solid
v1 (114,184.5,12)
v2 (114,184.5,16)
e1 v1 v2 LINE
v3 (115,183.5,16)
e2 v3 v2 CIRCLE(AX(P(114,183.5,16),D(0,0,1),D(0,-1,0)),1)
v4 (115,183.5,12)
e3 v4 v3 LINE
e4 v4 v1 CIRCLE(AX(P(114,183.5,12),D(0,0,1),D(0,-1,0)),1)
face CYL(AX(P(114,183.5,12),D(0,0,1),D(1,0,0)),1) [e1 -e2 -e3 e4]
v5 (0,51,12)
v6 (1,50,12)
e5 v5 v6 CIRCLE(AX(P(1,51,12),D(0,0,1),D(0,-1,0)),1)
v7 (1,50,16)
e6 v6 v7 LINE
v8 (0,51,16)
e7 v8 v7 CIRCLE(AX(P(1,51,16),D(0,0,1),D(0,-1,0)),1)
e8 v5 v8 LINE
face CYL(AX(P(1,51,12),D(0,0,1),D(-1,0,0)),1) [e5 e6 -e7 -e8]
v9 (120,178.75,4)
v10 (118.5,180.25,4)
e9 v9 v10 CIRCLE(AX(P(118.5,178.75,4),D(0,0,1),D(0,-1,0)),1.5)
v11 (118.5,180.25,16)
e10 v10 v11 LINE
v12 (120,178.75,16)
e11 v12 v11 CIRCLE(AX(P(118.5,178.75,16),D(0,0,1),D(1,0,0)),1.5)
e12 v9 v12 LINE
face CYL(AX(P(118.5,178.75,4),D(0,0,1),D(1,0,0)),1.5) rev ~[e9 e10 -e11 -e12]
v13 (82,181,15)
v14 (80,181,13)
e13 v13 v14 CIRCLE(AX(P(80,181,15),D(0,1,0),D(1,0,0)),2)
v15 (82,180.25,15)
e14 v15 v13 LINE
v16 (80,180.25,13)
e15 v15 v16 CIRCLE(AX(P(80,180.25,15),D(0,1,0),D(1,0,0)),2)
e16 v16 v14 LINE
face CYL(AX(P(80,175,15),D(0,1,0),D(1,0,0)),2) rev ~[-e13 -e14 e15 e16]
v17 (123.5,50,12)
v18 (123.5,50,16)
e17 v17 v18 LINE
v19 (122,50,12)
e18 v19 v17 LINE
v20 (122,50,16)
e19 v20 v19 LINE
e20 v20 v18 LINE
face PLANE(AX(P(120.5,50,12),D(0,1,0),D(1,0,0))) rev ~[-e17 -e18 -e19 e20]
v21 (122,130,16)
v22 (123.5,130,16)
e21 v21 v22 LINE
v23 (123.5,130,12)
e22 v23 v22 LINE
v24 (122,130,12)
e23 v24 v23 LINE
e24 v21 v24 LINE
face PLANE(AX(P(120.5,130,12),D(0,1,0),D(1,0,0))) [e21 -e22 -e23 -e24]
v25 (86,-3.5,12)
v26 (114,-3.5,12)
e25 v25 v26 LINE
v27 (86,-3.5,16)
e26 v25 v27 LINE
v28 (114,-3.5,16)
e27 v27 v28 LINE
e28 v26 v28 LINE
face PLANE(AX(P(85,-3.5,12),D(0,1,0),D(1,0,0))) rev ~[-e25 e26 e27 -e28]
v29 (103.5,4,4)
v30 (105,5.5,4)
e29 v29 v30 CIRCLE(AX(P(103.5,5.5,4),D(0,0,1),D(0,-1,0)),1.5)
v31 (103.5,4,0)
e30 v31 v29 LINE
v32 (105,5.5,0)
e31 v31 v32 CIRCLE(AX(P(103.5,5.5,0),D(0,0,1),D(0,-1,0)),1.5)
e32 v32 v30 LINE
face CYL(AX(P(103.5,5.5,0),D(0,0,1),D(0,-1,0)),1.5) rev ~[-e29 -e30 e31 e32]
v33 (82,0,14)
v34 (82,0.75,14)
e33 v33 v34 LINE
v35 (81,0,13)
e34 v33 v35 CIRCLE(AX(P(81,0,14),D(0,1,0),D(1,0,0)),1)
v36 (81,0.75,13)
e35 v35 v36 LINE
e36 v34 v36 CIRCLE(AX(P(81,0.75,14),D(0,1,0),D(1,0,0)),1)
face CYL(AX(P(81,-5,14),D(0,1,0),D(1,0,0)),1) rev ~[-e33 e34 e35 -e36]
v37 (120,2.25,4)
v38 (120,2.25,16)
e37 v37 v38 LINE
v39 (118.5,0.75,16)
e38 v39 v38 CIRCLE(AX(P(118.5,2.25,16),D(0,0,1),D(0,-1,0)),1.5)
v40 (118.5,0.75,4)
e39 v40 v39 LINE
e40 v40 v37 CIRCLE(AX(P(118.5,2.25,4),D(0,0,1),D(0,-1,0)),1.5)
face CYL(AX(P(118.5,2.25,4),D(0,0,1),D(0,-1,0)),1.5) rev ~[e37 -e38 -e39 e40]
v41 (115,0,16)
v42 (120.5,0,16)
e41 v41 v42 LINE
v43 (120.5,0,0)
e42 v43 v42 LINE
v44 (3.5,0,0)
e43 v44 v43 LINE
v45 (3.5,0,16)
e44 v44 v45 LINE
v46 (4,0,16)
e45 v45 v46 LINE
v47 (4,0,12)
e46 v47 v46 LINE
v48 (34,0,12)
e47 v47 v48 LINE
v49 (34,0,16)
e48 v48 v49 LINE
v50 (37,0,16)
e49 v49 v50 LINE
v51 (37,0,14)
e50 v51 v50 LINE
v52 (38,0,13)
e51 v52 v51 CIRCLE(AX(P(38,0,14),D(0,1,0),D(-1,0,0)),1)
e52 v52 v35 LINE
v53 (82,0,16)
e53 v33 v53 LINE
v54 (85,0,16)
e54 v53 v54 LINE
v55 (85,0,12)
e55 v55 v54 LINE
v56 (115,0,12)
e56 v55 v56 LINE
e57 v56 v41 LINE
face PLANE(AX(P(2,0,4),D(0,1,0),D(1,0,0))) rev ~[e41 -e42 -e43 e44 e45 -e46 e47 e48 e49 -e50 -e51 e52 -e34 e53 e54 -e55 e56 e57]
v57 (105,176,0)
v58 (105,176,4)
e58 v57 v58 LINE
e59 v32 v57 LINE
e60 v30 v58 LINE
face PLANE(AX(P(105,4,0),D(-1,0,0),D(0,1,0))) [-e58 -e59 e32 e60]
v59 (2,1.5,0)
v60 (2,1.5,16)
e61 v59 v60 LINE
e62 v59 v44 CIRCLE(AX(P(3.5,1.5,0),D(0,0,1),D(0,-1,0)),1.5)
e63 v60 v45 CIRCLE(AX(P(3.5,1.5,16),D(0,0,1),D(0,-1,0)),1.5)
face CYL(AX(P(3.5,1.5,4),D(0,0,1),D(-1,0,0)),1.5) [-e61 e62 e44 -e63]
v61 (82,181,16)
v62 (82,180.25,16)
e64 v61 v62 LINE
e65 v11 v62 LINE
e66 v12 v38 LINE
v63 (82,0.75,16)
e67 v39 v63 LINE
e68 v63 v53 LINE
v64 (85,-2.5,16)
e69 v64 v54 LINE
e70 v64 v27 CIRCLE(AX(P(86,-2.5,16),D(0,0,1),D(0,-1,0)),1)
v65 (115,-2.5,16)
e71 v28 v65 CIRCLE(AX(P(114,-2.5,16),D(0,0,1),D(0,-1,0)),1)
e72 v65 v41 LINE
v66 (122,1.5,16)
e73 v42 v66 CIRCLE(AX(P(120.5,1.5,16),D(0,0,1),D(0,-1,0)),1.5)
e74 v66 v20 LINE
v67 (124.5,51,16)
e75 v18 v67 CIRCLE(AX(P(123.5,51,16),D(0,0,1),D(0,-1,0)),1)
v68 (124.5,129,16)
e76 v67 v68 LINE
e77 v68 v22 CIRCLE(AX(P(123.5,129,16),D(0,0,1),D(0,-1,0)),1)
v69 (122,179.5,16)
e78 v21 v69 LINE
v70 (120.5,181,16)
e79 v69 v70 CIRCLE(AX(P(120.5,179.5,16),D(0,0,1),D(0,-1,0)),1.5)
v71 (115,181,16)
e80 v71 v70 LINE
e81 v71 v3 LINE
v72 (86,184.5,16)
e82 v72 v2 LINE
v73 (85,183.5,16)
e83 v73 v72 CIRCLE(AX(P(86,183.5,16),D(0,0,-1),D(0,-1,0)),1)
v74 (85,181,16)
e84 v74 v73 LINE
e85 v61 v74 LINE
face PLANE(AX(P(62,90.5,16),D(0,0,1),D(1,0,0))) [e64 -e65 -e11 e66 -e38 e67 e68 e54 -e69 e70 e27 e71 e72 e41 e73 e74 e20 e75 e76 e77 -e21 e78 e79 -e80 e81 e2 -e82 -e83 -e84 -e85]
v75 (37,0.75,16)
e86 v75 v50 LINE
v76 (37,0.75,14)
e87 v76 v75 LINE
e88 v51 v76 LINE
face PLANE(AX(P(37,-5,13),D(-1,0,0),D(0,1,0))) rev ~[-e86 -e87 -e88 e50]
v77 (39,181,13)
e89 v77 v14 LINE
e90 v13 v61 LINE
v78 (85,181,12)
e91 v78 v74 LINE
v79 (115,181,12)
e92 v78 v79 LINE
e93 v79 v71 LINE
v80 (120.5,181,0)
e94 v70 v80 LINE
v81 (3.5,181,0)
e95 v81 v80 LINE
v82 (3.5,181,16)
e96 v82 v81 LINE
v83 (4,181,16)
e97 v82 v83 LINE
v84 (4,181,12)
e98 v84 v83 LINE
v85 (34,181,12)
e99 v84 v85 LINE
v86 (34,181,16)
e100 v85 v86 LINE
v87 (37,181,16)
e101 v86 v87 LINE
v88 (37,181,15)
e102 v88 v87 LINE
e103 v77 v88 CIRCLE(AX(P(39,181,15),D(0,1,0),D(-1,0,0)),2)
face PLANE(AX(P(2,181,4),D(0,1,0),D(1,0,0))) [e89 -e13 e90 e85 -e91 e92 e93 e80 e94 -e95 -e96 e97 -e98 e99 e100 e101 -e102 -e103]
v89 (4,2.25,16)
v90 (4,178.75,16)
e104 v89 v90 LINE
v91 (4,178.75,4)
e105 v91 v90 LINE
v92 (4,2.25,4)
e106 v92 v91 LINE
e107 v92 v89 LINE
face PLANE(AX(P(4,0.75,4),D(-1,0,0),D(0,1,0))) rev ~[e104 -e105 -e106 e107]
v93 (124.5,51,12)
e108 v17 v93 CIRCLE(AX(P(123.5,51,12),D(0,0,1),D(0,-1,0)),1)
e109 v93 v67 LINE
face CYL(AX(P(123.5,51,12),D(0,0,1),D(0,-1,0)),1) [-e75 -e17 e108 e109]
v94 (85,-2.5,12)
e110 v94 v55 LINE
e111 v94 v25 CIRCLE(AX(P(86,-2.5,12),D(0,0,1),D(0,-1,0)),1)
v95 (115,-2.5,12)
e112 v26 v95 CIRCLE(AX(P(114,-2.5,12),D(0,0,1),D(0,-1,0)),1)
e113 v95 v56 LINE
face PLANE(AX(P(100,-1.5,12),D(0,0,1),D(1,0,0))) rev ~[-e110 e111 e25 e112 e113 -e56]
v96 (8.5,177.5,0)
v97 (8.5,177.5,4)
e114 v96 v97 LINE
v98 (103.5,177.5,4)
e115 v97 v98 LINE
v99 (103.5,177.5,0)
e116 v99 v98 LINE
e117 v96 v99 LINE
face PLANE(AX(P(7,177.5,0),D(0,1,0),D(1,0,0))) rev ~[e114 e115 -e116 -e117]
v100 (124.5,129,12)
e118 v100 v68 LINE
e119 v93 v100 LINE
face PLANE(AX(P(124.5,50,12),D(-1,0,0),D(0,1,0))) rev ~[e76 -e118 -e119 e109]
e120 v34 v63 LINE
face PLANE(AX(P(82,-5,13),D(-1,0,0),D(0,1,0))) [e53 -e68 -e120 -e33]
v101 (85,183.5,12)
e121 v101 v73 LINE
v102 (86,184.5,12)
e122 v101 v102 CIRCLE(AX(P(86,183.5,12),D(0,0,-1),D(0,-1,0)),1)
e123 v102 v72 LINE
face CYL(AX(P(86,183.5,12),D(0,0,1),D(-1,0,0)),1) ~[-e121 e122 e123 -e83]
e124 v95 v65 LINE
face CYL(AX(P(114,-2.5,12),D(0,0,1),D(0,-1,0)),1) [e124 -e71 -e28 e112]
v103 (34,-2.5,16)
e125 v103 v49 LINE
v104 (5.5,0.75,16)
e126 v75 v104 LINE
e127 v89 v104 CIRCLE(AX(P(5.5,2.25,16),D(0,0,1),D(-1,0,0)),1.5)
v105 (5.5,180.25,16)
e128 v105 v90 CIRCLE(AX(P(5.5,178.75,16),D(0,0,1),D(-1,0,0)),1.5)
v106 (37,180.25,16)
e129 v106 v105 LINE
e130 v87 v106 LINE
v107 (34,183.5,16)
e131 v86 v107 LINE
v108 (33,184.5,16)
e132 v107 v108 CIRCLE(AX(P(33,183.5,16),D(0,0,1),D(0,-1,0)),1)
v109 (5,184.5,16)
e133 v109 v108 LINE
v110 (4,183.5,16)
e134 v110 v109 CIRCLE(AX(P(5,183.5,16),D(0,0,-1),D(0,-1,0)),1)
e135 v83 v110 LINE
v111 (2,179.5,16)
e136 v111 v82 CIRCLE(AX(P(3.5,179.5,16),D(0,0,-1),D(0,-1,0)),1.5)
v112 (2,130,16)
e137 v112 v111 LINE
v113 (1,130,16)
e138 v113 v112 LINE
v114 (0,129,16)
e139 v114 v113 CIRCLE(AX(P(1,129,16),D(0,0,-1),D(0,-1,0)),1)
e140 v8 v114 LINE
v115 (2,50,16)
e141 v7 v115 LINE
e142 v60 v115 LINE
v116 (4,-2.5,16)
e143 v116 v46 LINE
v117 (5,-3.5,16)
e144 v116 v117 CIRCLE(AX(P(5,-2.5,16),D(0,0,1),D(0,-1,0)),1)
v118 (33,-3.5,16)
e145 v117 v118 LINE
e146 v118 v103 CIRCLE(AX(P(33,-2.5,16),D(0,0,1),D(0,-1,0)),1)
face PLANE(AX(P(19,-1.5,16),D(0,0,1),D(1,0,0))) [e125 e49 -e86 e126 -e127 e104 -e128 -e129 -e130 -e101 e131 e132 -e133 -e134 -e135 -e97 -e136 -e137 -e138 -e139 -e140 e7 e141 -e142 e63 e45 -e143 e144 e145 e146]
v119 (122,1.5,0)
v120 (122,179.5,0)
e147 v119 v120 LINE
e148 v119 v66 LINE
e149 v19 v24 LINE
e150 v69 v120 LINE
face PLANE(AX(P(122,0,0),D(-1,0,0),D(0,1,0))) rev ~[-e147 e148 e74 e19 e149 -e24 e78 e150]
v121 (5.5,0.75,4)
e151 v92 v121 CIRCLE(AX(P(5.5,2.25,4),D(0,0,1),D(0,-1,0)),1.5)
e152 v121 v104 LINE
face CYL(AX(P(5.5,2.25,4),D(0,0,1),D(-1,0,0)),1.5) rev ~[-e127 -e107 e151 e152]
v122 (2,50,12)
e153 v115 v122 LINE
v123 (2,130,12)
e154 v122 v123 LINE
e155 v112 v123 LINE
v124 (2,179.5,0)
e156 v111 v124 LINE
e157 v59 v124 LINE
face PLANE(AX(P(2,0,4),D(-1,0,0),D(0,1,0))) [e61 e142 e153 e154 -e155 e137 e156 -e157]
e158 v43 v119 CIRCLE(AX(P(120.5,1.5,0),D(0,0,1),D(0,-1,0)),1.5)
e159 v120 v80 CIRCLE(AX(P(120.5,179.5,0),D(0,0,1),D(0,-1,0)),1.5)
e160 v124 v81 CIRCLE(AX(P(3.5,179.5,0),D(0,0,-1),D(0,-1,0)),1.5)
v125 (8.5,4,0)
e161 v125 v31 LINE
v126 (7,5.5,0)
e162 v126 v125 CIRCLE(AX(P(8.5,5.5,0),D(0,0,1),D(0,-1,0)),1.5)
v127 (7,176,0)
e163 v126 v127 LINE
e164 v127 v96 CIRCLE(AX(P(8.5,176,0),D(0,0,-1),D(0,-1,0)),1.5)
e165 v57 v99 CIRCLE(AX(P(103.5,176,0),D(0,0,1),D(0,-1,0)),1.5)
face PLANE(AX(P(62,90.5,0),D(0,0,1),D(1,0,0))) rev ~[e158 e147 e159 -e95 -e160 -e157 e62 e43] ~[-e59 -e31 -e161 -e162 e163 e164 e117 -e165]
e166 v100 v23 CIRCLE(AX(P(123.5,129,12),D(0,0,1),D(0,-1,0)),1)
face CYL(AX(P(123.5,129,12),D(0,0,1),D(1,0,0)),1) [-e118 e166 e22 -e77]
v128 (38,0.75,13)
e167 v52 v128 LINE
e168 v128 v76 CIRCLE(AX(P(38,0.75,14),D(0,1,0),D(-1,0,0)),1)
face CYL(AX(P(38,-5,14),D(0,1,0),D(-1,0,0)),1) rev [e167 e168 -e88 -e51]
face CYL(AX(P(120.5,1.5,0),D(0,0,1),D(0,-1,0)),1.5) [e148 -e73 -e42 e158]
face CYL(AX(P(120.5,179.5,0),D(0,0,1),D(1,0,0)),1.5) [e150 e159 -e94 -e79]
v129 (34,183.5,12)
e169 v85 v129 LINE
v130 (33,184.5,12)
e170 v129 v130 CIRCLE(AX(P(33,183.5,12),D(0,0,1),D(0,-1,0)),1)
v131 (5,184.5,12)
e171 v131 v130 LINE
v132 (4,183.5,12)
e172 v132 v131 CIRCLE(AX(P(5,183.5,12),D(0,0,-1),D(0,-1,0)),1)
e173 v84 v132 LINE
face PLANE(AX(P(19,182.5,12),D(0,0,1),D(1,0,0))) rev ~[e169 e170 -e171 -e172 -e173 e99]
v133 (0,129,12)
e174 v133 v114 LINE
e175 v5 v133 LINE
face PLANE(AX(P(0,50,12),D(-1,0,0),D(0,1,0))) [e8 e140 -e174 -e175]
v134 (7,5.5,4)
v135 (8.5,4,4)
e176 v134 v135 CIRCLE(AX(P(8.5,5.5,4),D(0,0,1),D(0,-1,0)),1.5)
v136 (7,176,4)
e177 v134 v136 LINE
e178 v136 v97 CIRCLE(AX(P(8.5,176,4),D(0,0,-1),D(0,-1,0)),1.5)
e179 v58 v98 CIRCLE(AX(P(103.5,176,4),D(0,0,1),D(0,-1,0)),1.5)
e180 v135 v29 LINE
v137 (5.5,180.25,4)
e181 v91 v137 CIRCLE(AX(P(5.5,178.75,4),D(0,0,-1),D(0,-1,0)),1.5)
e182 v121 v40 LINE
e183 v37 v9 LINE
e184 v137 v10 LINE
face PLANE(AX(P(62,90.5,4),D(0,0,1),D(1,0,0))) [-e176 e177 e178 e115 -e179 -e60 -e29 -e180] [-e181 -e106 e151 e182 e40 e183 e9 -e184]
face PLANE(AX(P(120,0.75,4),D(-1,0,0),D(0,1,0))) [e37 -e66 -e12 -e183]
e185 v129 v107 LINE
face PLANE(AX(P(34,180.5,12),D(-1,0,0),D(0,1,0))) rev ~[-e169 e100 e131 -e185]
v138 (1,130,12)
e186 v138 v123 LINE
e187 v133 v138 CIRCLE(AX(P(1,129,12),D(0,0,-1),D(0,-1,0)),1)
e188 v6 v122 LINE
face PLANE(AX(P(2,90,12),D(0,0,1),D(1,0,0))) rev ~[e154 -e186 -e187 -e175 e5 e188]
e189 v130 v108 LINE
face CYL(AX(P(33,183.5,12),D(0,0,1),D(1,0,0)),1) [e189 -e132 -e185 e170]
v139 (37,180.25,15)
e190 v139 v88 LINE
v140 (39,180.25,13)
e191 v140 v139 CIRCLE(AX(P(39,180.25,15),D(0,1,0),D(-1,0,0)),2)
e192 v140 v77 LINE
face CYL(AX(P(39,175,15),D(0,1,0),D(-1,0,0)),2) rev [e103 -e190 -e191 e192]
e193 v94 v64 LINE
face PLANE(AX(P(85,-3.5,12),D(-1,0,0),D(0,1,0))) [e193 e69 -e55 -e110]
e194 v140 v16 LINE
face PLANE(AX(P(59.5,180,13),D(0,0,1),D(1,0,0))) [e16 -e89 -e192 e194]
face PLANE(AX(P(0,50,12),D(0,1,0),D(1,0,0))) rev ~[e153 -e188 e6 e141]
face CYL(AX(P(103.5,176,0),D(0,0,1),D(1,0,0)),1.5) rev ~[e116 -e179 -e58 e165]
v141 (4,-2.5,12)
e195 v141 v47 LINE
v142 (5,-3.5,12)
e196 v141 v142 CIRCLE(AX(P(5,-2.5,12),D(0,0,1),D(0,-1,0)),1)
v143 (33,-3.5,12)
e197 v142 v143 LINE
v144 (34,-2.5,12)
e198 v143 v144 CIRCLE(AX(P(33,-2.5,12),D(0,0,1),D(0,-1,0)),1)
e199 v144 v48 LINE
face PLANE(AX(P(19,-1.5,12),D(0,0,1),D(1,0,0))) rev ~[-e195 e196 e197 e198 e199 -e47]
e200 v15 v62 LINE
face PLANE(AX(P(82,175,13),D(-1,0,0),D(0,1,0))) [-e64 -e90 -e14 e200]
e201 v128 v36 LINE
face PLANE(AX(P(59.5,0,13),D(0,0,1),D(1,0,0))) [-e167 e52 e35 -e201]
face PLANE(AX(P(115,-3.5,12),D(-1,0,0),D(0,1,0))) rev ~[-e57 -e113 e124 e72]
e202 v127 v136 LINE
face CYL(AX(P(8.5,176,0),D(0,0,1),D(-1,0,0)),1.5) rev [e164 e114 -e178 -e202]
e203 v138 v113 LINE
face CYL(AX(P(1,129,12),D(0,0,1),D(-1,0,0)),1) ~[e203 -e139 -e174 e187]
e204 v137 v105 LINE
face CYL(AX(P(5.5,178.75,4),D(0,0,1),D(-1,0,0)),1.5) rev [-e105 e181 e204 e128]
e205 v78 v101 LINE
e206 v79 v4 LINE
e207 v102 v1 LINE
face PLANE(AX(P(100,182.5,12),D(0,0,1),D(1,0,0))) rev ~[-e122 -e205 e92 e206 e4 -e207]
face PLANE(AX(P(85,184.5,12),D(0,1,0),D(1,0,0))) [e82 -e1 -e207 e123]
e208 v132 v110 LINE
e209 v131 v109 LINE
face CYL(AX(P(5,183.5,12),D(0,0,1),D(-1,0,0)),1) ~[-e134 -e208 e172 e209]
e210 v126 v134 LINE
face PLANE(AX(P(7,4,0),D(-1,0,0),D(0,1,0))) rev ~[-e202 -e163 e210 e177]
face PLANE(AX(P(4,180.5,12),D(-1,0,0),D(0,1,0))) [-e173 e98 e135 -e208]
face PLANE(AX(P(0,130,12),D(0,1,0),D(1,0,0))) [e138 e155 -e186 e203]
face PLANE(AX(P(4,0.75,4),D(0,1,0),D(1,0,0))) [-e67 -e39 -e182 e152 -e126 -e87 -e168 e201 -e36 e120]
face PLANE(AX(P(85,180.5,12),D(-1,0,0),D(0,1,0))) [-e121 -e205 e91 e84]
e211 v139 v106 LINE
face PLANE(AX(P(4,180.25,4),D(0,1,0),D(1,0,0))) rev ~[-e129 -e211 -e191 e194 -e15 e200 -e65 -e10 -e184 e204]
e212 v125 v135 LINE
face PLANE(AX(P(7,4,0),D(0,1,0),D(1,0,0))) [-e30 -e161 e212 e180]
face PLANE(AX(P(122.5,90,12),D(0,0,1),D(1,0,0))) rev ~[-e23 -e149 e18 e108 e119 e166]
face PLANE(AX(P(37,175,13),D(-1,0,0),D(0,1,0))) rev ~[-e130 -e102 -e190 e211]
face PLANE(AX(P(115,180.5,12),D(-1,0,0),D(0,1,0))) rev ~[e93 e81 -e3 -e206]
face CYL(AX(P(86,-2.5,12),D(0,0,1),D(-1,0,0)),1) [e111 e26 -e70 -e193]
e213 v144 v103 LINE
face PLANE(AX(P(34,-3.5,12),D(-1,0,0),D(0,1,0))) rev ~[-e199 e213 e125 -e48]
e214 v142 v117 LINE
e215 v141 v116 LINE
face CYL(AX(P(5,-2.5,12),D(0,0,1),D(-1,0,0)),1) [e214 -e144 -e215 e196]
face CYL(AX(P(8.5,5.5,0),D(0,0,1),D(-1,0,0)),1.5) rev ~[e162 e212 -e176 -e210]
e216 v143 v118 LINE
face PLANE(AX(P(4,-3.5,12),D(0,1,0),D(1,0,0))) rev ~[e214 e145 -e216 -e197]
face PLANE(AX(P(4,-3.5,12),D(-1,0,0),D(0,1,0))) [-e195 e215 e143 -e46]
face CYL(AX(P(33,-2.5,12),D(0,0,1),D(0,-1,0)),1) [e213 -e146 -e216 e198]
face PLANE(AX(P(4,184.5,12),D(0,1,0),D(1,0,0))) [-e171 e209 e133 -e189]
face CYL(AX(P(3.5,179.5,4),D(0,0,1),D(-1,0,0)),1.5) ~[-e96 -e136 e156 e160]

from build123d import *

# Parameters (mm, degrees)
BOX011_W      = 4
BOX011_H      = 80
BOX011_DEPTH  = 4
FILLET006_R   = 1
BOX010_W      = 30
BOX010_H      = 4
BOX010_DEPTH  = 4
FILLET007_R   = 1
BOX009_W      = 30
BOX009_H      = 4
BOX009_DEPTH  = 4
FILLET008_R   = 1
BOX008_W      = 30
BOX008_H      = 4
BOX008_DEPTH  = 4
FILLET009_R   = 1
BOX013_W      = 4
BOX013_H      = 80
BOX013_DEPTH  = 4
FILLET010_R   = 1
BOX012_W      = 30
BOX012_H      = 4
BOX012_DEPTH  = 4
FILLET005_R   = 1
BOX006_W      = 45
BOX006_H      = 10
BOX006_DEPTH  = 10
BOX007_W      = 45
BOX007_H      = 10
BOX007_DEPTH  = 10
FILLET004_1_R = 2
FILLET004_2_R = 1
BOX003_W      = 116
BOX003_H      = 179.5
BOX003_DEPTH  = 20
FILLET002_R   = 1.5
BOX002_W      = 120
BOX002_H      = 181
BOX002_DEPTH  = 12
FILLET003_R   = 1.5
BOX001_W      = 98
BOX001_H      = 173.5
BOX001_DEPTH  = 4
FILLET_R      = 1.5
BOX_W         = 120
BOX_H         = 181
BOX_DEPTH     = 4
FILLET001_R   = 1.5


with BuildPart() as fillet006:
    # Box011 → Box011 (new body)
    with BuildSketch(Plane(origin=(0, 50, 5), x_dir=(1, 0, 0), z_dir=(0, 0, 1))):
        with Locations((2, 40)):
            Rectangle(BOX011_W, BOX011_H)
    extrude(amount=BOX011_DEPTH)

    # Fillet006
    fillet006_edges = [fillet006.edges().sort_by_distance(p)[0] for p in [
        (0, 50, 7),
        (0, 130, 7),
    ]]
    fillet(fillet006_edges, radius=FILLET006_R)


with BuildPart() as fillet007:
    # Box010 → Box010 (new body)
    with BuildSketch(Plane(origin=(85, -3.5, 5), x_dir=(1, 0, 0), z_dir=(0, 0, 1))):
        with Locations((15, 2)):
            Rectangle(BOX010_W, BOX010_H)
    extrude(amount=BOX010_DEPTH)

    # Fillet007
    fillet007_edges = [fillet007.edges().sort_by_distance(p)[0] for p in [
        (85, -3.5, 7),
        (115, -3.5, 7),
    ]]
    fillet(fillet007_edges, radius=FILLET007_R)


with BuildPart() as fillet008:
    # Box009 → Box009 (new body)
    with BuildSketch(Plane(origin=(4, 180.5, 5), x_dir=(1, 0, 0), z_dir=(0, 0, 1))):
        with Locations((15, 2)):
            Rectangle(BOX009_W, BOX009_H)
    extrude(amount=BOX009_DEPTH)

    # Fillet008
    fillet008_edges = [fillet008.edges().sort_by_distance(p)[0] for p in [
        (4, 184.5, 7),
        (34, 184.5, 7),
    ]]
    fillet(fillet008_edges, radius=FILLET008_R)


with BuildPart() as fillet009:
    # Box008 → Box008 (new body)
    with BuildSketch(Plane(origin=(85, 180.5, 5), x_dir=(1, 0, 0), z_dir=(0, 0, 1))):
        with Locations((15, 2)):
            Rectangle(BOX008_W, BOX008_H)
    extrude(amount=BOX008_DEPTH)

    # Fillet009
    fillet009_edges = [fillet009.edges().sort_by_distance(p)[0] for p in [
        (85, 184.5, 7),
        (115, 184.5, 7),
    ]]
    fillet(fillet009_edges, radius=FILLET009_R)


with BuildPart() as fillet010:
    # Box013 → Box013 (new body)
    with BuildSketch(Plane(origin=(120.5, 50, 5), x_dir=(1, 0, 0), z_dir=(0, 0, 1))):
        with Locations((2, 40)):
            Rectangle(BOX013_W, BOX013_H)
    extrude(amount=BOX013_DEPTH)

    # Fillet010
    fillet010_edges = [fillet010.edges().sort_by_distance(p)[0] for p in [
        (124.5, 50, 7),
        (124.5, 130, 7),
    ]]
    fillet(fillet010_edges, radius=FILLET010_R)


with BuildPart() as fusion002:
    # Box012 → Box012 (new body)
    with BuildSketch(Plane(origin=(4, -3.5, 5), x_dir=(1, 0, 0), z_dir=(0, 0, 1))):
        with Locations((15, 2)):
            Rectangle(BOX012_W, BOX012_H)
    extrude(amount=BOX012_DEPTH)

    # Fillet005
    fillet005_edges = [fusion002.edges().sort_by_distance(p)[0] for p in [
        (4, -3.5, 7),
        (34, -3.5, 7),
    ]]
    fillet(fillet005_edges, radius=FILLET005_R)

    # Fusion002: union Fillet006, Fillet007, Fillet008, Fillet009, Fillet010
    add(fillet006.part)
    add(fillet007.part)
    add(fillet008.part)
    add(fillet009.part)
    add(fillet010.part)


with BuildPart() as fusion002_1:
    # Fusion002 placement: moved
    add(fusion002.part.moved(Location((0, 0, 7))))


with BuildPart() as cube006:
    # Box006 → Box006 (new body)
    with BuildSketch(Plane(origin=(15, -5, 0), x_dir=(1, 0, 0), z_dir=(0, 0, 1))):
        with Locations((22.5, 5)):
            Rectangle(BOX006_W, BOX006_H)
    extrude(amount=BOX006_DEPTH)


with BuildPart() as fillet004:
    # Box007 → Box007 (new body)
    with BuildSketch(Plane(origin=(15, 175, 0), x_dir=(1, 0, 0), z_dir=(0, 0, 1))):
        with Locations((22.5, 5)):
            Rectangle(BOX007_W, BOX007_H)
    extrude(amount=BOX007_DEPTH)

    # Fusion: union Cube006
    add(cube006.part)


with BuildPart() as fillet004_1:
    # Fusion placement: moved
    add(fillet004.part.moved(Location((22, 0, 13))))

    # Fillet004 1
    fillet004_1_edges = [fillet004_1.edges().sort_by_distance(p)[0] for p in [
        (37, 180, 13),
        (82, 180, 13),
    ]]
    fillet(fillet004_1_edges, radius=FILLET004_1_R)

    # Fillet004 2
    fillet004_2_edges = [fillet004_1.edges().sort_by_distance(p)[0] for p in [
        (37, 0, 13),
        (82, 0, 13),
    ]]
    fillet(fillet004_2_edges, radius=FILLET004_2_R)


with BuildPart() as fillet002:
    # Box003 → Box003 (new body)
    with BuildSketch(Plane(origin=(4, 0.75, 4), x_dir=(1, 0, 0), z_dir=(0, 0, 1))):
        with Locations((58, 89.75)):
            Rectangle(BOX003_W, BOX003_H)
    extrude(amount=BOX003_DEPTH)

    # Fillet002
    fillet002_edges = [fillet002.edges().sort_by_distance(p)[0] for p in [
        (4, 0.75, 14),
        (4, 180.25, 14),
        (120, 0.75, 14),
        (120, 180.25, 14),
    ]]
    fillet(fillet002_edges, radius=FILLET002_R)


with BuildPart() as cut002:
    # Box002 → Box002 (new body)
    with BuildSketch(Plane(origin=(2, 0, 4), x_dir=(1, 0, 0), z_dir=(0, 0, 1))):
        with Locations((60, 90.5)):
            Rectangle(BOX002_W, BOX002_H)
    extrude(amount=BOX002_DEPTH)

    # Fillet003
    fillet003_edges = [cut002.edges().sort_by_distance(p)[0] for p in [
        (2, 0, 10),
        (2, 181, 10),
        (122, 0, 10),
        (122, 181, 10),
    ]]
    fillet(fillet003_edges, radius=FILLET003_R)

    # Cut001: cut Fillet002
    add(fillet002.part, mode=Mode.SUBTRACT)

    # Cut002: cut Fillet004
    add(fillet004_1.part, mode=Mode.SUBTRACT)


with BuildPart() as fillet_body:
    # Box001 → Box001 (new body)
    with BuildSketch(Plane(origin=(7, 4, 0), x_dir=(1, 0, 0), z_dir=(0, 0, 1))):
        with Locations((49, 86.75)):
            Rectangle(BOX001_W, BOX001_H)
    extrude(amount=BOX001_DEPTH)

    # Fillet
    fillet_edges = [fillet_body.edges().sort_by_distance(p)[0] for p in [
        (7, 4, 2),
        (7, 177.5, 2),
        (105, 4, 2),
        (105, 177.5, 2),
    ]]
    fillet(fillet_edges, radius=FILLET_R)


with BuildPart() as fusion003:
    # Box → Box (new body)
    with BuildSketch(Plane(origin=(2, 0, 0), x_dir=(1, 0, 0), z_dir=(0, 0, 1))):
        with Locations((60, 90.5)):
            Rectangle(BOX_W, BOX_H)
    extrude(amount=BOX_DEPTH)

    # Fillet001
    fillet001_edges = [fusion003.edges().sort_by_distance(p)[0] for p in [
        (2, 0, 2),
        (2, 181, 2),
        (122, 0, 2),
        (122, 181, 2),
    ]]
    fillet(fillet001_edges, radius=FILLET001_R)

    # Cut: cut Fillet body
    add(fillet_body.part, mode=Mode.SUBTRACT)

    # Fusion001: union Cut002
    add(cut002.part)

    # Fusion003: union Fusion002
    add(fusion002_1.part)


solid = fusion003.part
